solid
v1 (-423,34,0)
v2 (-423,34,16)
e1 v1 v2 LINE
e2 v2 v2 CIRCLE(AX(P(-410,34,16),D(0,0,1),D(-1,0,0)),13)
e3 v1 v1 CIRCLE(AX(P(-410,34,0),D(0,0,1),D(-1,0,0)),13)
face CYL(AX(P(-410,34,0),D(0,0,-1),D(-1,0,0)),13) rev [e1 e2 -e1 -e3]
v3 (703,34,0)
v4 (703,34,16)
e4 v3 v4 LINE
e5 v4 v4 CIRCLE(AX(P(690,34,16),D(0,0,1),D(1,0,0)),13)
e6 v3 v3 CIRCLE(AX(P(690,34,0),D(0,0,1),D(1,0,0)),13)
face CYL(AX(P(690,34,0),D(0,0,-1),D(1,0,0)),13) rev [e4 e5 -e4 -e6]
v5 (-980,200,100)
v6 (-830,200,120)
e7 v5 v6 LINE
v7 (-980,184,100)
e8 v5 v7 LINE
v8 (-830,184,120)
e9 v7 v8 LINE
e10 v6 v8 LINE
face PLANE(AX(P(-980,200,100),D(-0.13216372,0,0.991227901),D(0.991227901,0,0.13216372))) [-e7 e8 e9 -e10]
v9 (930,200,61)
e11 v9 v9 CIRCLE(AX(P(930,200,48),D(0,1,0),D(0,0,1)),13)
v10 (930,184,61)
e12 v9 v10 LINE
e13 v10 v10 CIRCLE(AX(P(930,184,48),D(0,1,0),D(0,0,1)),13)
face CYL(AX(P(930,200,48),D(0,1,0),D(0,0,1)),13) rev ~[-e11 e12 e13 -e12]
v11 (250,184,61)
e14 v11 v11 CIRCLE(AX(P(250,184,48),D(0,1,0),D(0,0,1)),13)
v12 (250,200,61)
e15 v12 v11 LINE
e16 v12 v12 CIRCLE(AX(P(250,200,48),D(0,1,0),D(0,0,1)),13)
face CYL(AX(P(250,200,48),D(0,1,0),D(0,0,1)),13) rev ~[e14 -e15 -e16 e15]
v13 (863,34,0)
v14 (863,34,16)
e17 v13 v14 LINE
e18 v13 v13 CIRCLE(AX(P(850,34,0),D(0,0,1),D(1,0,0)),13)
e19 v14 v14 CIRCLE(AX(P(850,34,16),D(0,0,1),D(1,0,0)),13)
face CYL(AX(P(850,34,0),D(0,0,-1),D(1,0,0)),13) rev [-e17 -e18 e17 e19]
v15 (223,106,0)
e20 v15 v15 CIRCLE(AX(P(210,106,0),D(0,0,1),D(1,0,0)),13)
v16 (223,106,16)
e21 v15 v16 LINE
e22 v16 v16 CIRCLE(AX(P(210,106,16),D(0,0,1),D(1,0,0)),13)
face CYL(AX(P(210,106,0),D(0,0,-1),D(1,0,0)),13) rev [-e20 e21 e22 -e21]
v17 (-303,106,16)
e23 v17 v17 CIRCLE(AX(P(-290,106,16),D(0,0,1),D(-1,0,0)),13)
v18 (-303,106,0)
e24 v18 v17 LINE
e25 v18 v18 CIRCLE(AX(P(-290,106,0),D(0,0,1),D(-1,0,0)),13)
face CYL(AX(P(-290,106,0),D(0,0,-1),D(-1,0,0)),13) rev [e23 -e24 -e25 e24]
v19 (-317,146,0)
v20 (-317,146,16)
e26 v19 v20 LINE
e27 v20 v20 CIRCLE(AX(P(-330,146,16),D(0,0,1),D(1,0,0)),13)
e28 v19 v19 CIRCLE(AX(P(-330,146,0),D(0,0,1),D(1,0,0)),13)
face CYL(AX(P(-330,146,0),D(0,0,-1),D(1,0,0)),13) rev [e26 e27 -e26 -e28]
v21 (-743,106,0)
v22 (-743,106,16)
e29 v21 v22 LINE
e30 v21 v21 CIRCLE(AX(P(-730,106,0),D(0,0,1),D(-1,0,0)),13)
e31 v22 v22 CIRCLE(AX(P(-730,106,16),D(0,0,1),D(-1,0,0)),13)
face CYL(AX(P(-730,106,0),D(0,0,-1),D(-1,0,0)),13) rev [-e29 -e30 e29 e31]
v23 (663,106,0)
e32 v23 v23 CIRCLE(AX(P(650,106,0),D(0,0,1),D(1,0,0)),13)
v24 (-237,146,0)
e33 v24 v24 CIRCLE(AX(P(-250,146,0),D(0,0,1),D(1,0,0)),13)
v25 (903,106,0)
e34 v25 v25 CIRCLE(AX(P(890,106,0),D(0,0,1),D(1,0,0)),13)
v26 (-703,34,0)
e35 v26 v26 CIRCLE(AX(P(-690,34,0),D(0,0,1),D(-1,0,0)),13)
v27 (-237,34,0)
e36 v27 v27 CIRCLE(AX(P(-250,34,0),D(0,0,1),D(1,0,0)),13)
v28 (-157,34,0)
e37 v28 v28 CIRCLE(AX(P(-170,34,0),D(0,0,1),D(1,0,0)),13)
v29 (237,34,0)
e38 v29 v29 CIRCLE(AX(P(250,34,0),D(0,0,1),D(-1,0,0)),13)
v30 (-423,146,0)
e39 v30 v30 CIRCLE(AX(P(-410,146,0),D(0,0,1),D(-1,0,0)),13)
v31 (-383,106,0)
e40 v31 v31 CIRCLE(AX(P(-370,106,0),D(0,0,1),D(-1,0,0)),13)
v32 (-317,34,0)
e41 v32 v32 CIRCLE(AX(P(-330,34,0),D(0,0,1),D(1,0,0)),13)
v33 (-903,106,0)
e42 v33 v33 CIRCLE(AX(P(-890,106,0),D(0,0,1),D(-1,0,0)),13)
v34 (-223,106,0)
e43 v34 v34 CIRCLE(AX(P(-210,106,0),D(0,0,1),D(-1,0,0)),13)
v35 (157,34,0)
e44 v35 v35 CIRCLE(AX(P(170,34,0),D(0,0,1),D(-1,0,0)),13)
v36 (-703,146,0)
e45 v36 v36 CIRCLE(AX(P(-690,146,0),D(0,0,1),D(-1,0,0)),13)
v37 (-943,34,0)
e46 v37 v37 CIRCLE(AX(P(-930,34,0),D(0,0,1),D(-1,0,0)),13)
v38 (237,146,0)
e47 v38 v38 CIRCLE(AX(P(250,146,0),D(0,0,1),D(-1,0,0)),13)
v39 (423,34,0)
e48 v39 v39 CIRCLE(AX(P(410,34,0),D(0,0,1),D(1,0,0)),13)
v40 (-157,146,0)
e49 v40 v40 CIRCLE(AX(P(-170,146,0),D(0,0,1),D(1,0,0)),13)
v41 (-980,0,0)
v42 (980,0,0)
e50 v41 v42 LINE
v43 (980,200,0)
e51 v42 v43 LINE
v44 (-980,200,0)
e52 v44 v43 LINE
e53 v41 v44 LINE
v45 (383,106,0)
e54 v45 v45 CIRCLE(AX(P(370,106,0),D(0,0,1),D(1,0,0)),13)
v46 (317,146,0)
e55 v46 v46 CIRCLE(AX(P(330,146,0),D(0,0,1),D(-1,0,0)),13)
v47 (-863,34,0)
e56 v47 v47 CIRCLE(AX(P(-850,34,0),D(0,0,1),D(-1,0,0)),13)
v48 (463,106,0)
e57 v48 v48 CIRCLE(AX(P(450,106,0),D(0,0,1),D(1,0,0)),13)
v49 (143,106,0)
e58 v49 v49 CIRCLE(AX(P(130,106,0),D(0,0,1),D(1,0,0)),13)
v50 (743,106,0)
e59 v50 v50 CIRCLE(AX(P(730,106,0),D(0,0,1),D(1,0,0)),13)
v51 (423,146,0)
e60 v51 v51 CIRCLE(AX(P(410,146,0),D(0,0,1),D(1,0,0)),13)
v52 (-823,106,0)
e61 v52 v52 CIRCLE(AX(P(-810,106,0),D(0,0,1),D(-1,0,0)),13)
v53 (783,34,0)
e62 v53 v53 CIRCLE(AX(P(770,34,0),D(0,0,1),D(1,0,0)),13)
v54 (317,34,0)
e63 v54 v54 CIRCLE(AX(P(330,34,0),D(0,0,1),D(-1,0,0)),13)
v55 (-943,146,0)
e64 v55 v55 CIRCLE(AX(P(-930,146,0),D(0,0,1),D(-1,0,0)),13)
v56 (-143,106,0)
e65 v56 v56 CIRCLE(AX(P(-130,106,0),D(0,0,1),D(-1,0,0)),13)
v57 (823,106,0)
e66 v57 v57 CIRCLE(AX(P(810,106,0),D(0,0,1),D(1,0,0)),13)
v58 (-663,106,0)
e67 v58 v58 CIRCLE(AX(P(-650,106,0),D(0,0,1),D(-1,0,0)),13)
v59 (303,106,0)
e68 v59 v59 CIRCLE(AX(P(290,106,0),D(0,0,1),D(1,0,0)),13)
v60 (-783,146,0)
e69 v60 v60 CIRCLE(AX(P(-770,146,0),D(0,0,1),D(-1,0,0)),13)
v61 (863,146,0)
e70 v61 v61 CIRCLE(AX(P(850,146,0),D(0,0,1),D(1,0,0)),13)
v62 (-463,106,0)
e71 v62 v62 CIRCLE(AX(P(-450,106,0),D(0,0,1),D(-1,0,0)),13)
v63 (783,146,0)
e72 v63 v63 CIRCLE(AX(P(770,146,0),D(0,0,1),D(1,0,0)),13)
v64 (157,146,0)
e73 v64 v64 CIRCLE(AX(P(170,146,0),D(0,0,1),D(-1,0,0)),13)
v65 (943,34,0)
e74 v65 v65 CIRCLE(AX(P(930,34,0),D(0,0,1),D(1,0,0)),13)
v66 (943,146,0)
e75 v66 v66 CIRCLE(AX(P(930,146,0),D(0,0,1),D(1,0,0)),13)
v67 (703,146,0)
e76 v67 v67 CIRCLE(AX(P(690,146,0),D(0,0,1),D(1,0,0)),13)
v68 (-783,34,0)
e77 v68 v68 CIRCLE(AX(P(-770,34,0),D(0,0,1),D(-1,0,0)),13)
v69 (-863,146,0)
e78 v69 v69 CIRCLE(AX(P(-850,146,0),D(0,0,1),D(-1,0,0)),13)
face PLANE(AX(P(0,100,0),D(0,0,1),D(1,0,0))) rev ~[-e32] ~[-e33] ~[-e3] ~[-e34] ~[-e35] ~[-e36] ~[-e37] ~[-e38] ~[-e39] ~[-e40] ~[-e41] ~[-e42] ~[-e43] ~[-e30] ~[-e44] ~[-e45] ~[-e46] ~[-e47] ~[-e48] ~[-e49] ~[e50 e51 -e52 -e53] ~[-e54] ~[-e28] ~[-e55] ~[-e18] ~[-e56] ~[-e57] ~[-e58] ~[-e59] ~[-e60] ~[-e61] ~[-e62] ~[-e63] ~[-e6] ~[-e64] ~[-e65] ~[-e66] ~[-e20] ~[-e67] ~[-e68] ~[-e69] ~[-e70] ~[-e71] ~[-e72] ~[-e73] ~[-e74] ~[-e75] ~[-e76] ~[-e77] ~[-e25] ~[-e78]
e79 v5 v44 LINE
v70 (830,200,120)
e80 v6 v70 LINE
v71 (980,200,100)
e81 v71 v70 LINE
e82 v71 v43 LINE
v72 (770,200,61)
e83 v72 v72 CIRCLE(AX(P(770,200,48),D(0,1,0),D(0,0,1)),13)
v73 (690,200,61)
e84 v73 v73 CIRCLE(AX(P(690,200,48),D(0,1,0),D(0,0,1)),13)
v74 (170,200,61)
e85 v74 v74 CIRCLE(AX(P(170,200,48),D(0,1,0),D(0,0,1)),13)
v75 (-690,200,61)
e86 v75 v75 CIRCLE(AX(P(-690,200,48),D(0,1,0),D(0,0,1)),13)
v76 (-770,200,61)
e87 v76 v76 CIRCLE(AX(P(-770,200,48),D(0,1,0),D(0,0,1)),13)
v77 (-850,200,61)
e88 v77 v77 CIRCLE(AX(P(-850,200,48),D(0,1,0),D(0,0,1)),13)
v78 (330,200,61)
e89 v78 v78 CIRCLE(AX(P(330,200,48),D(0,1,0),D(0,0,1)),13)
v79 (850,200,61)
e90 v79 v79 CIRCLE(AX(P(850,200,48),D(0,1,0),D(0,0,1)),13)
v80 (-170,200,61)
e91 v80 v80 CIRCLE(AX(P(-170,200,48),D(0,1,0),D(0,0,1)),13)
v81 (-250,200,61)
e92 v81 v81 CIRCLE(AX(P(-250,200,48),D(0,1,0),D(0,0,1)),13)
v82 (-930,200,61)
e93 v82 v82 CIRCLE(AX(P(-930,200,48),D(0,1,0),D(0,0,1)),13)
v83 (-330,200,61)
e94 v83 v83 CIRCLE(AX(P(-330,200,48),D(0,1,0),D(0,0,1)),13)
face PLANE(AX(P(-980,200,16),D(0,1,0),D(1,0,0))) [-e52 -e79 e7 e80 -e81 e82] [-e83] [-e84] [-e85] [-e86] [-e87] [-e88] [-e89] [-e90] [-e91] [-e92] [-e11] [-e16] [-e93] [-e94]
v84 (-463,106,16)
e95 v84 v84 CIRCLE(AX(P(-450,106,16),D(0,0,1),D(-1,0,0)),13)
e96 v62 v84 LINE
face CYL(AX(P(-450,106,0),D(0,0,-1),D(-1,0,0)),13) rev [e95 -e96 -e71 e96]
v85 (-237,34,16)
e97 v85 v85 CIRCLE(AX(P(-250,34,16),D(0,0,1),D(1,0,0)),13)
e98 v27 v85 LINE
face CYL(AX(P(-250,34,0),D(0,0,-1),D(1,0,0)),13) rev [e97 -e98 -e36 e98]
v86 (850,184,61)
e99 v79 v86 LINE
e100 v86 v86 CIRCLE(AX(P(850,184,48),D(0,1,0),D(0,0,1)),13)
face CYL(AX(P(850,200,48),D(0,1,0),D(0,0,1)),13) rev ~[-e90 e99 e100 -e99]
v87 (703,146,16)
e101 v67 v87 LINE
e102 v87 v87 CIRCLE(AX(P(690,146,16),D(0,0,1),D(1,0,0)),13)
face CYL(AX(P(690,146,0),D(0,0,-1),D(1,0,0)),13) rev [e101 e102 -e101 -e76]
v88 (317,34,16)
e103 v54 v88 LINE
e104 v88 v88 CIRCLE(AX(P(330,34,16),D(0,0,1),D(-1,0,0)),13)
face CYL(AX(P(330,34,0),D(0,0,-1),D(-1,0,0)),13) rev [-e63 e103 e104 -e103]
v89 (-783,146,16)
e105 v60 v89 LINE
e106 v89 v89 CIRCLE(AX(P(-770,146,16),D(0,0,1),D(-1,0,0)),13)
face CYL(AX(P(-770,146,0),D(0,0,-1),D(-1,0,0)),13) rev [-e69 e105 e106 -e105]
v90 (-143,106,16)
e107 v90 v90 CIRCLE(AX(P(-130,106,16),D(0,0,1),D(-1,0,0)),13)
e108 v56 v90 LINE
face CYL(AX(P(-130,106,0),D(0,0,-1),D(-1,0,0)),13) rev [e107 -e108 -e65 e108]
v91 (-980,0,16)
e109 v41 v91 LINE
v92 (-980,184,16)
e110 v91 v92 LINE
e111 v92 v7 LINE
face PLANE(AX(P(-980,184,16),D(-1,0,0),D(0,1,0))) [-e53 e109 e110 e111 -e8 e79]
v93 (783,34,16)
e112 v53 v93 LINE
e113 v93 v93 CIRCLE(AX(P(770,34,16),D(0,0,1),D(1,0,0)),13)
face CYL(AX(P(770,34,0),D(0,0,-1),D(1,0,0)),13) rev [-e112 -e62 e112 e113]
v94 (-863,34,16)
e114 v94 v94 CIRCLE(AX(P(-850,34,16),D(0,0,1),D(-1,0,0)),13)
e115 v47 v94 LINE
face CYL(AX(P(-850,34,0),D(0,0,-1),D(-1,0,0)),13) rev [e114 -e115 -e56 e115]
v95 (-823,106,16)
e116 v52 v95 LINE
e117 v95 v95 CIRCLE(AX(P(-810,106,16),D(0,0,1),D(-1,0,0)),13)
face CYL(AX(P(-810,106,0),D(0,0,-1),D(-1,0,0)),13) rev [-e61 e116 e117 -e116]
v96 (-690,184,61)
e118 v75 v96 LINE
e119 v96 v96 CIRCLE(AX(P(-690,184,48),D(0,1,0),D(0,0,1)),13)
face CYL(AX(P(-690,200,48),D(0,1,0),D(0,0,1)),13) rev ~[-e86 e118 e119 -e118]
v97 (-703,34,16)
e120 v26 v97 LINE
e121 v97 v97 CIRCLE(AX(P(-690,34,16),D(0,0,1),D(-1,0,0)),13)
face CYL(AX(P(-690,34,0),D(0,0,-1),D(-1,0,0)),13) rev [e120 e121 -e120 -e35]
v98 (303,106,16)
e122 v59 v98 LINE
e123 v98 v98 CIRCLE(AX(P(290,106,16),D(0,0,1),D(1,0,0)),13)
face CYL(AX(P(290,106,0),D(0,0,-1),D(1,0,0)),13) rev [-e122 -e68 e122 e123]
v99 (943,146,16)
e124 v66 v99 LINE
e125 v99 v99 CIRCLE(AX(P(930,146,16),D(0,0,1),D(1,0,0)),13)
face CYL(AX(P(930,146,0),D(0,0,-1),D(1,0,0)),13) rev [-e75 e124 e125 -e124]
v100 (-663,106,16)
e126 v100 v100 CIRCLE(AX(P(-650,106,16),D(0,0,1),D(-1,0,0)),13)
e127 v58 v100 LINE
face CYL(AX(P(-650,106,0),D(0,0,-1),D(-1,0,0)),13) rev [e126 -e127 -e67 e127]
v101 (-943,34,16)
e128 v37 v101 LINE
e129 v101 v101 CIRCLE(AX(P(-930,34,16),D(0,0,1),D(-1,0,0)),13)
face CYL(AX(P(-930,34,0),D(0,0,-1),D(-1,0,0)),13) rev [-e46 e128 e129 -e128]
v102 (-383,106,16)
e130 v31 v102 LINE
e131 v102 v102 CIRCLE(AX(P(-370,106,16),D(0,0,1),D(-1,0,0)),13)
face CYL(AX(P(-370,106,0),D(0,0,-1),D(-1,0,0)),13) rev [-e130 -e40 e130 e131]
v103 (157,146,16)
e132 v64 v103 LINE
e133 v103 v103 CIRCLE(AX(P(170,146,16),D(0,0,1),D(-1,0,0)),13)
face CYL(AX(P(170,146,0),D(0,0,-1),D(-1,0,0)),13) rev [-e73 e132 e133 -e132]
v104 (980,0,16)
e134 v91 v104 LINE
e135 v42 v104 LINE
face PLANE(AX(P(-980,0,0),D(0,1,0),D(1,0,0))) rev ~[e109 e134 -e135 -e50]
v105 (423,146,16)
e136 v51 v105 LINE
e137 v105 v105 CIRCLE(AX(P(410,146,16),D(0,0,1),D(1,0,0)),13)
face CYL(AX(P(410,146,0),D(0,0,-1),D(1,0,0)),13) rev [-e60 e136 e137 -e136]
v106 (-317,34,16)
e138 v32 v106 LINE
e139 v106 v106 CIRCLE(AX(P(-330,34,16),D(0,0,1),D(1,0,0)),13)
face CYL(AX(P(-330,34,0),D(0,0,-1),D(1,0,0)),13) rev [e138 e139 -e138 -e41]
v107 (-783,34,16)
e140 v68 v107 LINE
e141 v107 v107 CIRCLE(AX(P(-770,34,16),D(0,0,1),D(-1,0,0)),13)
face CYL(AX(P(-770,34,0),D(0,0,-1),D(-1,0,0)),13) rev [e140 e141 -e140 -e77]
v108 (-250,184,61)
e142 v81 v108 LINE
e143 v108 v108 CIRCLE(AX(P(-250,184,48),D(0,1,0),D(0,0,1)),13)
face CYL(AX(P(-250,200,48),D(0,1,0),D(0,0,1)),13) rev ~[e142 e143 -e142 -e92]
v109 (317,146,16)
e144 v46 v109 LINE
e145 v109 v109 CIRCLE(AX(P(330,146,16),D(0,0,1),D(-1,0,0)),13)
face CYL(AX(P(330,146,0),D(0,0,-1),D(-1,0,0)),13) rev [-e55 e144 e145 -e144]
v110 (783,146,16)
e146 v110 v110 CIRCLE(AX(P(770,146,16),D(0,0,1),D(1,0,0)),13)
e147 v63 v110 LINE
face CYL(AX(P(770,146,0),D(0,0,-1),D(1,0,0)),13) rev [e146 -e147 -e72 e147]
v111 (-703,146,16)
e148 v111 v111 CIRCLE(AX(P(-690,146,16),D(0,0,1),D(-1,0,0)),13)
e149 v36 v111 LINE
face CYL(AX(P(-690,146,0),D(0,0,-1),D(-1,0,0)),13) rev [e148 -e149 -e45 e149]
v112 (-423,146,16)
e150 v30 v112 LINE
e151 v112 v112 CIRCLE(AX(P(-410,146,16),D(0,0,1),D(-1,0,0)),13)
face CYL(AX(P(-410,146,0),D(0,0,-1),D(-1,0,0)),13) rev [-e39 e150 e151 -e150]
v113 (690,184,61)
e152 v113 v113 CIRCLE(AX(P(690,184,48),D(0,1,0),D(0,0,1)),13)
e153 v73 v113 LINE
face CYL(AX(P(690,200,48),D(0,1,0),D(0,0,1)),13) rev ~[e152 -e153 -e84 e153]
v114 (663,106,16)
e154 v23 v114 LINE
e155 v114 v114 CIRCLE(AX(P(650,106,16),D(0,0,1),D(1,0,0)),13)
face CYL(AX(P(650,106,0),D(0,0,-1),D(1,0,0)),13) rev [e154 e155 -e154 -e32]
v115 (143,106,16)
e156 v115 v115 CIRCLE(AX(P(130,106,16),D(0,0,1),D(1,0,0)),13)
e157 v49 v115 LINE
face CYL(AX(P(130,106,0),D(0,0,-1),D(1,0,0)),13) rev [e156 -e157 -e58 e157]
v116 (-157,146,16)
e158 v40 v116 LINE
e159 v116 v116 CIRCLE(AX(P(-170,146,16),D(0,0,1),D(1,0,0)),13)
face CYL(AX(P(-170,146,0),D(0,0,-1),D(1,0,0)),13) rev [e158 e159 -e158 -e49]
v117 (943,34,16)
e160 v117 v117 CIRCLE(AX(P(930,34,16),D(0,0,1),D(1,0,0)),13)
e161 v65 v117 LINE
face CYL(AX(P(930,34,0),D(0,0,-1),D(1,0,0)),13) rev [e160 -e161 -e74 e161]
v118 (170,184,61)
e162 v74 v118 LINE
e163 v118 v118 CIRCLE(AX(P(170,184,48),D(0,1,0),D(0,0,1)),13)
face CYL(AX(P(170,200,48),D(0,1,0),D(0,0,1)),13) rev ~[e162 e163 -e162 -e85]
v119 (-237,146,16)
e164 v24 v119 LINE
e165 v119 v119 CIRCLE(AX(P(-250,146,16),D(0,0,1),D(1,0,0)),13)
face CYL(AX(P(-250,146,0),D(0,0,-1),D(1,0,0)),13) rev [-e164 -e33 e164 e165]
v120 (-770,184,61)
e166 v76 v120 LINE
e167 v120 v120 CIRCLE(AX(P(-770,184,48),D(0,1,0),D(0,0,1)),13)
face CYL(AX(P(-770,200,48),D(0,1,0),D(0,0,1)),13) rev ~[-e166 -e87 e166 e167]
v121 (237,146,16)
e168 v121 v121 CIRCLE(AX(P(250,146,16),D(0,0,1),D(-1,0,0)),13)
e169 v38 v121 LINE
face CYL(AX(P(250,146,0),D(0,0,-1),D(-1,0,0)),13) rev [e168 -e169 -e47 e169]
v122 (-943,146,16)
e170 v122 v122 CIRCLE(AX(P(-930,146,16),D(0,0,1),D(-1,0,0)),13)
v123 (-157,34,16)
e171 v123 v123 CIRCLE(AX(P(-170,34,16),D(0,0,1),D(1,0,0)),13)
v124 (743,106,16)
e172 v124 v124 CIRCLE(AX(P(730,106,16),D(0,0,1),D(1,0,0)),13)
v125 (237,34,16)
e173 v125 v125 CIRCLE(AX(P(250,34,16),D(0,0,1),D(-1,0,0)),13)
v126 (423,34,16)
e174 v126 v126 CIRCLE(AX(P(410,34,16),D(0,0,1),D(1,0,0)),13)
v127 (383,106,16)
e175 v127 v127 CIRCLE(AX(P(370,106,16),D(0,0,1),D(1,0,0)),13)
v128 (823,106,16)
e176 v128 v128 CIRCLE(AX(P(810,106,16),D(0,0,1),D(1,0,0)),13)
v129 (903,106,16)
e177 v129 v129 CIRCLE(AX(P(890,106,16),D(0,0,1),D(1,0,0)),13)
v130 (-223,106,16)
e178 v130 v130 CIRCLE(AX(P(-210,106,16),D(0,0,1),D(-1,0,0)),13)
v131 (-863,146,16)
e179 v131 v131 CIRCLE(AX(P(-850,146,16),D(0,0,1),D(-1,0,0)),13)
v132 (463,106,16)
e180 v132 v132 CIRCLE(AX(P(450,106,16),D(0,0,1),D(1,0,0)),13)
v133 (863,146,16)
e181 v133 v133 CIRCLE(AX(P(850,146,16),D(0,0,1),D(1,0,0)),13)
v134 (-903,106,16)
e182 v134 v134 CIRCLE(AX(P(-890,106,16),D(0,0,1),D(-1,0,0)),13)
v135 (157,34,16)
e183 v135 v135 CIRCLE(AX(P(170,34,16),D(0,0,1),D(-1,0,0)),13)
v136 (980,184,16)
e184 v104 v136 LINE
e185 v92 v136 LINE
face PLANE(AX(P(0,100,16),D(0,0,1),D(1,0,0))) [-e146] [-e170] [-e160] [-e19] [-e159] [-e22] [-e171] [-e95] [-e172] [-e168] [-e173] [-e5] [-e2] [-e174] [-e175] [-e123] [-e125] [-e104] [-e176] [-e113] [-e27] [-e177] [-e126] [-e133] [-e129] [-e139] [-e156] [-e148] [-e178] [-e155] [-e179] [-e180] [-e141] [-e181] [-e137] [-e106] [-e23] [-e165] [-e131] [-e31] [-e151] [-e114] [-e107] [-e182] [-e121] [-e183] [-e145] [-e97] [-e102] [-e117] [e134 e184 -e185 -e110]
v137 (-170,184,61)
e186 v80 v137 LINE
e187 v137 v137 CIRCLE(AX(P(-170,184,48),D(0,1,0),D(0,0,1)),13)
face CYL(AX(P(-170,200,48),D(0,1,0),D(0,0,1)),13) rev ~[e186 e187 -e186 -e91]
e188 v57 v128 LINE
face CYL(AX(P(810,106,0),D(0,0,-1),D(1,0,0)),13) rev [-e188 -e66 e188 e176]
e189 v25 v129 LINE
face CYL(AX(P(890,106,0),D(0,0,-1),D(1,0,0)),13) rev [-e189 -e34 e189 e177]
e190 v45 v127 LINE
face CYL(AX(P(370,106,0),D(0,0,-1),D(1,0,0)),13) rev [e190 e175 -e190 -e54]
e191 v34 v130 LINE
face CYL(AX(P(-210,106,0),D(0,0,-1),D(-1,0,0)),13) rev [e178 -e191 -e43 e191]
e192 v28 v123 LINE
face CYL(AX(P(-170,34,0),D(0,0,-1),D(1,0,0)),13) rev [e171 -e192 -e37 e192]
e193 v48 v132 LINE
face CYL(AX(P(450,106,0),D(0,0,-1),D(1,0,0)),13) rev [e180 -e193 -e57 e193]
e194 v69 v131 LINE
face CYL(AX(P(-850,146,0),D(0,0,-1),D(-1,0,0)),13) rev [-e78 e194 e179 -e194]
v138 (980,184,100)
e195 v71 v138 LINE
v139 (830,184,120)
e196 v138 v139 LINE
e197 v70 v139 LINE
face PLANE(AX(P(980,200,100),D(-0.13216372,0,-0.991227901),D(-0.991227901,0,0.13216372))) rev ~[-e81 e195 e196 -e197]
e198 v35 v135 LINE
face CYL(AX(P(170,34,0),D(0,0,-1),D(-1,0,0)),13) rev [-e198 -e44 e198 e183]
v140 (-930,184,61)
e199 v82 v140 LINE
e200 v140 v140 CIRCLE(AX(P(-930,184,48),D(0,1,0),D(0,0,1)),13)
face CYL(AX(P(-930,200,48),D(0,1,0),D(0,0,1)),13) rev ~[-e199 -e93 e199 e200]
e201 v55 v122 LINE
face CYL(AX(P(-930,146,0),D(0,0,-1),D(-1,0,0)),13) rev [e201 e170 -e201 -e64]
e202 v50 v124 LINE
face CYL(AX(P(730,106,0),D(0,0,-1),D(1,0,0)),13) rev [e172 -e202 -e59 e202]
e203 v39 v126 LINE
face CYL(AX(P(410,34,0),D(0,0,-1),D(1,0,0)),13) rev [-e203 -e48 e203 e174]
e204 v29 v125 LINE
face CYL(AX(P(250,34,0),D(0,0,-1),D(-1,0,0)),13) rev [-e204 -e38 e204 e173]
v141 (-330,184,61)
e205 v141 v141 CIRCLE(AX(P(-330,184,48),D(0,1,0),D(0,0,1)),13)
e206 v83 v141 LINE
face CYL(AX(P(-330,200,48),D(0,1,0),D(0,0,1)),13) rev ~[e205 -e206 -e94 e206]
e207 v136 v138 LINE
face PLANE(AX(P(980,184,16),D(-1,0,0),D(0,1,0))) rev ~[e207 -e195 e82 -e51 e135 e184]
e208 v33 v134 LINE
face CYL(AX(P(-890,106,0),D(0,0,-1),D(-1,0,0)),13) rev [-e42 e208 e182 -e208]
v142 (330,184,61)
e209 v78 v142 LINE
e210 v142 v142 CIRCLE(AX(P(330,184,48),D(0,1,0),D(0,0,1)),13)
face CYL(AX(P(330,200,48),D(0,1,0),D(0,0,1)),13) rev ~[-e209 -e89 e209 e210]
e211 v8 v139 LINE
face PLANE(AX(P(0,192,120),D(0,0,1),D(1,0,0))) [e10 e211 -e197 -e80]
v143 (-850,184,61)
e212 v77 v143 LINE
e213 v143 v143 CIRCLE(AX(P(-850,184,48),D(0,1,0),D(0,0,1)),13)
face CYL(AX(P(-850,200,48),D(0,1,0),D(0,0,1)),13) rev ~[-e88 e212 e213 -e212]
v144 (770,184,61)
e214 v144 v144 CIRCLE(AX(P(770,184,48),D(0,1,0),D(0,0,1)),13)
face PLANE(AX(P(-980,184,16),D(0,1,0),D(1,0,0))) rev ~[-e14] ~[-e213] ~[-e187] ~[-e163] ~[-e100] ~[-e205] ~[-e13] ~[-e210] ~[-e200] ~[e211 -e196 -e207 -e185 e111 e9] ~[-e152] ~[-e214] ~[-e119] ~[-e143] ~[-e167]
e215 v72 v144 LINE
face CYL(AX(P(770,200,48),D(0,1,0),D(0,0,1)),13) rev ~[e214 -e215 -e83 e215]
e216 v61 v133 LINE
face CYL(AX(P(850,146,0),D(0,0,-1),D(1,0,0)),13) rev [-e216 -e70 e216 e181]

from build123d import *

# Parameters (mm, degrees)
SKETCH_1_W          = 1960
SKETCH_1_H          = 200
SKETCH_1_R          = 13
EXTRUDE_1566_DEPTH  = 16
SKETCH_2_W          = 1960
SKETCH_2_H          = 16
EXTRUDE_1_DEPTH     = 104
SKETCH_3_R          = 13
CUT_EXTRUDE_1_DEPTH = 1008.372820757


with BuildPart() as part:
    # 草图1 → Extrude 1566 (new body)
    with BuildSketch(Plane.XY):
        with Locations((0, 100)):
            Rectangle(SKETCH_1_W, SKETCH_1_H)
        with Locations((930, 146)):
            Circle(SKETCH_1_R, mode=Mode.SUBTRACT)
        with Locations(Location((-890, 106, 0), (0, 0, 180))):
            Circle(SKETCH_1_R, mode=Mode.SUBTRACT)
        with Locations((850, 146)):
            Circle(SKETCH_1_R, mode=Mode.SUBTRACT)
        with Locations((930, 34)):
            Circle(SKETCH_1_R, mode=Mode.SUBTRACT)
        with Locations((850, 34)):
            Circle(SKETCH_1_R, mode=Mode.SUBTRACT)
        with Locations(Location((-810, 106, 0), (0, 0, 180))):
            Circle(SKETCH_1_R, mode=Mode.SUBTRACT)
        with Locations((770, 34)):
            Circle(SKETCH_1_R, mode=Mode.SUBTRACT)
        with Locations((770, 146)):
            Circle(SKETCH_1_R, mode=Mode.SUBTRACT)
        with Locations(Location((-730, 106, 0), (0, 0, 180))):
            Circle(SKETCH_1_R, mode=Mode.SUBTRACT)
        with Locations((690, 146)):
            Circle(SKETCH_1_R, mode=Mode.SUBTRACT)
        with Locations((690, 34)):
            Circle(SKETCH_1_R, mode=Mode.SUBTRACT)
        with Locations(Location((-650, 106, 0), (0, 0, 180))):
            Circle(SKETCH_1_R, mode=Mode.SUBTRACT)
        with Locations(Location((170, 146, 0), (0, 0, 180))):
            Circle(SKETCH_1_R, mode=Mode.SUBTRACT)
        with Locations(Location((170, 34, 0), (0, 0, 180))):
            Circle(SKETCH_1_R, mode=Mode.SUBTRACT)
        with Locations(Location((-410, 146, 0), (0, 0, 180))):
            Circle(SKETCH_1_R, mode=Mode.SUBTRACT)
        with Locations(Location((250, 34, 0), (0, 0, 180))):
            Circle(SKETCH_1_R, mode=Mode.SUBTRACT)
        with Locations(Location((250, 146, 0), (0, 0, 180))):
            Circle(SKETCH_1_R, mode=Mode.SUBTRACT)
        with Locations(Location((-450, 106, 0), (0, 0, 180))):
            Circle(SKETCH_1_R, mode=Mode.SUBTRACT)
        with Locations(Location((330, 34, 0), (0, 0, 180))):
            Circle(SKETCH_1_R, mode=Mode.SUBTRACT)
        with Locations(Location((330, 146, 0), (0, 0, 180))):
            Circle(SKETCH_1_R, mode=Mode.SUBTRACT)
        with Locations(Location((-370, 106, 0), (0, 0, 180))):
            Circle(SKETCH_1_R, mode=Mode.SUBTRACT)
        with Locations(Location((-290, 106, 0), (0, 0, 180))):
            Circle(SKETCH_1_R, mode=Mode.SUBTRACT)
        with Locations(Location((-210, 106, 0), (0, 0, 180))):
            Circle(SKETCH_1_R, mode=Mode.SUBTRACT)
        with Locations((890, 106)):
            Circle(SKETCH_1_R, mode=Mode.SUBTRACT)
        with Locations((810, 106)):
            Circle(SKETCH_1_R, mode=Mode.SUBTRACT)
        with Locations((650, 106)):
            Circle(SKETCH_1_R, mode=Mode.SUBTRACT)
        with Locations((730, 106)):
            Circle(SKETCH_1_R, mode=Mode.SUBTRACT)
        with Locations((-330, 146)):
            Circle(SKETCH_1_R, mode=Mode.SUBTRACT)
        with Locations((-330, 34)):
            Circle(SKETCH_1_R, mode=Mode.SUBTRACT)
        with Locations((410, 146)):
            Circle(SKETCH_1_R, mode=Mode.SUBTRACT)
        with Locations((-250, 146)):
            Circle(SKETCH_1_R, mode=Mode.SUBTRACT)
        with Locations((-250, 34)):
            Circle(SKETCH_1_R, mode=Mode.SUBTRACT)
        with Locations((450, 106)):
            Circle(SKETCH_1_R, mode=Mode.SUBTRACT)
        with Locations((-170, 34)):
            Circle(SKETCH_1_R, mode=Mode.SUBTRACT)
        with Locations((-170, 146)):
            Circle(SKETCH_1_R, mode=Mode.SUBTRACT)
        with Locations((370, 106)):
            Circle(SKETCH_1_R, mode=Mode.SUBTRACT)
        with Locations(Location((-690, 146, 0), (0, 0, 180))):
            Circle(SKETCH_1_R, mode=Mode.SUBTRACT)
        with Locations((290, 106)):
            Circle(SKETCH_1_R, mode=Mode.SUBTRACT)
        with Locations(Location((-770, 146, 0), (0, 0, 180))):
            Circle(SKETCH_1_R, mode=Mode.SUBTRACT)
        with Locations((210, 106)):
            Circle(SKETCH_1_R, mode=Mode.SUBTRACT)
        with Locations(Location((-850, 146, 0), (0, 0, 180))):
            Circle(SKETCH_1_R, mode=Mode.SUBTRACT)
        with Locations((130, 106)):
            Circle(SKETCH_1_R, mode=Mode.SUBTRACT)
        with Locations(Location((-930, 146, 0), (0, 0, 180))):
            Circle(SKETCH_1_R, mode=Mode.SUBTRACT)
        with Locations(Location((-690, 34, 0), (0, 0, 180))):
            Circle(SKETCH_1_R, mode=Mode.SUBTRACT)
        with Locations(Location((-770, 34, 0), (0, 0, 180))):
            Circle(SKETCH_1_R, mode=Mode.SUBTRACT)
        with Locations(Location((-850, 34, 0), (0, 0, 180))):
            Circle(SKETCH_1_R, mode=Mode.SUBTRACT)
        with Locations(Location((-930, 34, 0), (0, 0, 180))):
            Circle(SKETCH_1_R, mode=Mode.SUBTRACT)
        with Locations(Location((-130, 106, 0), (0, 0, 180))):
            Circle(SKETCH_1_R, mode=Mode.SUBTRACT)
        with Locations((410, 34)):
            Circle(SKETCH_1_R, mode=Mode.SUBTRACT)
        with Locations(Location((-410, 34, 0), (0, 0, 180))):
            Circle(SKETCH_1_R, mode=Mode.SUBTRACT)
    extrude(amount=EXTRUDE_1566_DEPTH)

    # 草图2 → 凸台-拉伸1 (add)
    with BuildSketch(Plane.XY.offset(16)):
        with Locations((0, 192)):
            Rectangle(SKETCH_2_W, SKETCH_2_H)
    extrude(amount=EXTRUDE_1_DEPTH)

    # 草图3 → 切除-拉伸1 (cut, through all)
    with BuildSketch(Plane(origin=(0, 200, 0), x_dir=(-1, 0, 0), z_dir=(0, 1, 0))):
        with Locations(Location((-930, 48, 0), (0, 0, 90))):
            Circle(SKETCH_3_R)
        with Locations(Location((-850, 48, 0), (0, 0, 90))):
            Circle(SKETCH_3_R)
        with Locations(Location((-770, 48, 0), (0, 0, 90))):
            Circle(SKETCH_3_R)
        with Locations(Location((-690, 48, 0), (0, 0, 90))):
            Circle(SKETCH_3_R)
        with Locations(Location((-330, 48, 0), (0, 0, 90))):
            Circle(SKETCH_3_R)
        with Locations(Location((-250, 48, 0), (0, 0, 90))):
            Circle(SKETCH_3_R)
        with Locations(Location((-170, 48, 0), (0, 0, 90))):
            Circle(SKETCH_3_R)
        with Locations(Location((170, 48, 0), (0, 0, 90))):
            Circle(SKETCH_3_R)
        with Locations(Location((250, 48, 0), (0, 0, 90))):
            Circle(SKETCH_3_R)
        with Locations(Location((330, 48, 0), (0, 0, 90))):
            Circle(SKETCH_3_R)
        with Locations(Location((930, 48, 0), (0, 0, 90))):
            Circle(SKETCH_3_R)
        with Locations(Location((850, 48, 0), (0, 0, 90))):
            Circle(SKETCH_3_R)
        with Locations(Location((770, 48, 0), (0, 0, 90))):
            Circle(SKETCH_3_R)
        with Locations(Location((690, 48, 0), (0, 0, 90))):
            Circle(SKETCH_3_R)
        Polygon((-980, 100), (-830, 120), (-980, 120), align=None)
        Polygon((980, 100), (830, 120), (980, 120), align=None)
    extrude(amount=-CUT_EXTRUDE_1_DEPTH, mode=Mode.SUBTRACT)


solid = part.part
